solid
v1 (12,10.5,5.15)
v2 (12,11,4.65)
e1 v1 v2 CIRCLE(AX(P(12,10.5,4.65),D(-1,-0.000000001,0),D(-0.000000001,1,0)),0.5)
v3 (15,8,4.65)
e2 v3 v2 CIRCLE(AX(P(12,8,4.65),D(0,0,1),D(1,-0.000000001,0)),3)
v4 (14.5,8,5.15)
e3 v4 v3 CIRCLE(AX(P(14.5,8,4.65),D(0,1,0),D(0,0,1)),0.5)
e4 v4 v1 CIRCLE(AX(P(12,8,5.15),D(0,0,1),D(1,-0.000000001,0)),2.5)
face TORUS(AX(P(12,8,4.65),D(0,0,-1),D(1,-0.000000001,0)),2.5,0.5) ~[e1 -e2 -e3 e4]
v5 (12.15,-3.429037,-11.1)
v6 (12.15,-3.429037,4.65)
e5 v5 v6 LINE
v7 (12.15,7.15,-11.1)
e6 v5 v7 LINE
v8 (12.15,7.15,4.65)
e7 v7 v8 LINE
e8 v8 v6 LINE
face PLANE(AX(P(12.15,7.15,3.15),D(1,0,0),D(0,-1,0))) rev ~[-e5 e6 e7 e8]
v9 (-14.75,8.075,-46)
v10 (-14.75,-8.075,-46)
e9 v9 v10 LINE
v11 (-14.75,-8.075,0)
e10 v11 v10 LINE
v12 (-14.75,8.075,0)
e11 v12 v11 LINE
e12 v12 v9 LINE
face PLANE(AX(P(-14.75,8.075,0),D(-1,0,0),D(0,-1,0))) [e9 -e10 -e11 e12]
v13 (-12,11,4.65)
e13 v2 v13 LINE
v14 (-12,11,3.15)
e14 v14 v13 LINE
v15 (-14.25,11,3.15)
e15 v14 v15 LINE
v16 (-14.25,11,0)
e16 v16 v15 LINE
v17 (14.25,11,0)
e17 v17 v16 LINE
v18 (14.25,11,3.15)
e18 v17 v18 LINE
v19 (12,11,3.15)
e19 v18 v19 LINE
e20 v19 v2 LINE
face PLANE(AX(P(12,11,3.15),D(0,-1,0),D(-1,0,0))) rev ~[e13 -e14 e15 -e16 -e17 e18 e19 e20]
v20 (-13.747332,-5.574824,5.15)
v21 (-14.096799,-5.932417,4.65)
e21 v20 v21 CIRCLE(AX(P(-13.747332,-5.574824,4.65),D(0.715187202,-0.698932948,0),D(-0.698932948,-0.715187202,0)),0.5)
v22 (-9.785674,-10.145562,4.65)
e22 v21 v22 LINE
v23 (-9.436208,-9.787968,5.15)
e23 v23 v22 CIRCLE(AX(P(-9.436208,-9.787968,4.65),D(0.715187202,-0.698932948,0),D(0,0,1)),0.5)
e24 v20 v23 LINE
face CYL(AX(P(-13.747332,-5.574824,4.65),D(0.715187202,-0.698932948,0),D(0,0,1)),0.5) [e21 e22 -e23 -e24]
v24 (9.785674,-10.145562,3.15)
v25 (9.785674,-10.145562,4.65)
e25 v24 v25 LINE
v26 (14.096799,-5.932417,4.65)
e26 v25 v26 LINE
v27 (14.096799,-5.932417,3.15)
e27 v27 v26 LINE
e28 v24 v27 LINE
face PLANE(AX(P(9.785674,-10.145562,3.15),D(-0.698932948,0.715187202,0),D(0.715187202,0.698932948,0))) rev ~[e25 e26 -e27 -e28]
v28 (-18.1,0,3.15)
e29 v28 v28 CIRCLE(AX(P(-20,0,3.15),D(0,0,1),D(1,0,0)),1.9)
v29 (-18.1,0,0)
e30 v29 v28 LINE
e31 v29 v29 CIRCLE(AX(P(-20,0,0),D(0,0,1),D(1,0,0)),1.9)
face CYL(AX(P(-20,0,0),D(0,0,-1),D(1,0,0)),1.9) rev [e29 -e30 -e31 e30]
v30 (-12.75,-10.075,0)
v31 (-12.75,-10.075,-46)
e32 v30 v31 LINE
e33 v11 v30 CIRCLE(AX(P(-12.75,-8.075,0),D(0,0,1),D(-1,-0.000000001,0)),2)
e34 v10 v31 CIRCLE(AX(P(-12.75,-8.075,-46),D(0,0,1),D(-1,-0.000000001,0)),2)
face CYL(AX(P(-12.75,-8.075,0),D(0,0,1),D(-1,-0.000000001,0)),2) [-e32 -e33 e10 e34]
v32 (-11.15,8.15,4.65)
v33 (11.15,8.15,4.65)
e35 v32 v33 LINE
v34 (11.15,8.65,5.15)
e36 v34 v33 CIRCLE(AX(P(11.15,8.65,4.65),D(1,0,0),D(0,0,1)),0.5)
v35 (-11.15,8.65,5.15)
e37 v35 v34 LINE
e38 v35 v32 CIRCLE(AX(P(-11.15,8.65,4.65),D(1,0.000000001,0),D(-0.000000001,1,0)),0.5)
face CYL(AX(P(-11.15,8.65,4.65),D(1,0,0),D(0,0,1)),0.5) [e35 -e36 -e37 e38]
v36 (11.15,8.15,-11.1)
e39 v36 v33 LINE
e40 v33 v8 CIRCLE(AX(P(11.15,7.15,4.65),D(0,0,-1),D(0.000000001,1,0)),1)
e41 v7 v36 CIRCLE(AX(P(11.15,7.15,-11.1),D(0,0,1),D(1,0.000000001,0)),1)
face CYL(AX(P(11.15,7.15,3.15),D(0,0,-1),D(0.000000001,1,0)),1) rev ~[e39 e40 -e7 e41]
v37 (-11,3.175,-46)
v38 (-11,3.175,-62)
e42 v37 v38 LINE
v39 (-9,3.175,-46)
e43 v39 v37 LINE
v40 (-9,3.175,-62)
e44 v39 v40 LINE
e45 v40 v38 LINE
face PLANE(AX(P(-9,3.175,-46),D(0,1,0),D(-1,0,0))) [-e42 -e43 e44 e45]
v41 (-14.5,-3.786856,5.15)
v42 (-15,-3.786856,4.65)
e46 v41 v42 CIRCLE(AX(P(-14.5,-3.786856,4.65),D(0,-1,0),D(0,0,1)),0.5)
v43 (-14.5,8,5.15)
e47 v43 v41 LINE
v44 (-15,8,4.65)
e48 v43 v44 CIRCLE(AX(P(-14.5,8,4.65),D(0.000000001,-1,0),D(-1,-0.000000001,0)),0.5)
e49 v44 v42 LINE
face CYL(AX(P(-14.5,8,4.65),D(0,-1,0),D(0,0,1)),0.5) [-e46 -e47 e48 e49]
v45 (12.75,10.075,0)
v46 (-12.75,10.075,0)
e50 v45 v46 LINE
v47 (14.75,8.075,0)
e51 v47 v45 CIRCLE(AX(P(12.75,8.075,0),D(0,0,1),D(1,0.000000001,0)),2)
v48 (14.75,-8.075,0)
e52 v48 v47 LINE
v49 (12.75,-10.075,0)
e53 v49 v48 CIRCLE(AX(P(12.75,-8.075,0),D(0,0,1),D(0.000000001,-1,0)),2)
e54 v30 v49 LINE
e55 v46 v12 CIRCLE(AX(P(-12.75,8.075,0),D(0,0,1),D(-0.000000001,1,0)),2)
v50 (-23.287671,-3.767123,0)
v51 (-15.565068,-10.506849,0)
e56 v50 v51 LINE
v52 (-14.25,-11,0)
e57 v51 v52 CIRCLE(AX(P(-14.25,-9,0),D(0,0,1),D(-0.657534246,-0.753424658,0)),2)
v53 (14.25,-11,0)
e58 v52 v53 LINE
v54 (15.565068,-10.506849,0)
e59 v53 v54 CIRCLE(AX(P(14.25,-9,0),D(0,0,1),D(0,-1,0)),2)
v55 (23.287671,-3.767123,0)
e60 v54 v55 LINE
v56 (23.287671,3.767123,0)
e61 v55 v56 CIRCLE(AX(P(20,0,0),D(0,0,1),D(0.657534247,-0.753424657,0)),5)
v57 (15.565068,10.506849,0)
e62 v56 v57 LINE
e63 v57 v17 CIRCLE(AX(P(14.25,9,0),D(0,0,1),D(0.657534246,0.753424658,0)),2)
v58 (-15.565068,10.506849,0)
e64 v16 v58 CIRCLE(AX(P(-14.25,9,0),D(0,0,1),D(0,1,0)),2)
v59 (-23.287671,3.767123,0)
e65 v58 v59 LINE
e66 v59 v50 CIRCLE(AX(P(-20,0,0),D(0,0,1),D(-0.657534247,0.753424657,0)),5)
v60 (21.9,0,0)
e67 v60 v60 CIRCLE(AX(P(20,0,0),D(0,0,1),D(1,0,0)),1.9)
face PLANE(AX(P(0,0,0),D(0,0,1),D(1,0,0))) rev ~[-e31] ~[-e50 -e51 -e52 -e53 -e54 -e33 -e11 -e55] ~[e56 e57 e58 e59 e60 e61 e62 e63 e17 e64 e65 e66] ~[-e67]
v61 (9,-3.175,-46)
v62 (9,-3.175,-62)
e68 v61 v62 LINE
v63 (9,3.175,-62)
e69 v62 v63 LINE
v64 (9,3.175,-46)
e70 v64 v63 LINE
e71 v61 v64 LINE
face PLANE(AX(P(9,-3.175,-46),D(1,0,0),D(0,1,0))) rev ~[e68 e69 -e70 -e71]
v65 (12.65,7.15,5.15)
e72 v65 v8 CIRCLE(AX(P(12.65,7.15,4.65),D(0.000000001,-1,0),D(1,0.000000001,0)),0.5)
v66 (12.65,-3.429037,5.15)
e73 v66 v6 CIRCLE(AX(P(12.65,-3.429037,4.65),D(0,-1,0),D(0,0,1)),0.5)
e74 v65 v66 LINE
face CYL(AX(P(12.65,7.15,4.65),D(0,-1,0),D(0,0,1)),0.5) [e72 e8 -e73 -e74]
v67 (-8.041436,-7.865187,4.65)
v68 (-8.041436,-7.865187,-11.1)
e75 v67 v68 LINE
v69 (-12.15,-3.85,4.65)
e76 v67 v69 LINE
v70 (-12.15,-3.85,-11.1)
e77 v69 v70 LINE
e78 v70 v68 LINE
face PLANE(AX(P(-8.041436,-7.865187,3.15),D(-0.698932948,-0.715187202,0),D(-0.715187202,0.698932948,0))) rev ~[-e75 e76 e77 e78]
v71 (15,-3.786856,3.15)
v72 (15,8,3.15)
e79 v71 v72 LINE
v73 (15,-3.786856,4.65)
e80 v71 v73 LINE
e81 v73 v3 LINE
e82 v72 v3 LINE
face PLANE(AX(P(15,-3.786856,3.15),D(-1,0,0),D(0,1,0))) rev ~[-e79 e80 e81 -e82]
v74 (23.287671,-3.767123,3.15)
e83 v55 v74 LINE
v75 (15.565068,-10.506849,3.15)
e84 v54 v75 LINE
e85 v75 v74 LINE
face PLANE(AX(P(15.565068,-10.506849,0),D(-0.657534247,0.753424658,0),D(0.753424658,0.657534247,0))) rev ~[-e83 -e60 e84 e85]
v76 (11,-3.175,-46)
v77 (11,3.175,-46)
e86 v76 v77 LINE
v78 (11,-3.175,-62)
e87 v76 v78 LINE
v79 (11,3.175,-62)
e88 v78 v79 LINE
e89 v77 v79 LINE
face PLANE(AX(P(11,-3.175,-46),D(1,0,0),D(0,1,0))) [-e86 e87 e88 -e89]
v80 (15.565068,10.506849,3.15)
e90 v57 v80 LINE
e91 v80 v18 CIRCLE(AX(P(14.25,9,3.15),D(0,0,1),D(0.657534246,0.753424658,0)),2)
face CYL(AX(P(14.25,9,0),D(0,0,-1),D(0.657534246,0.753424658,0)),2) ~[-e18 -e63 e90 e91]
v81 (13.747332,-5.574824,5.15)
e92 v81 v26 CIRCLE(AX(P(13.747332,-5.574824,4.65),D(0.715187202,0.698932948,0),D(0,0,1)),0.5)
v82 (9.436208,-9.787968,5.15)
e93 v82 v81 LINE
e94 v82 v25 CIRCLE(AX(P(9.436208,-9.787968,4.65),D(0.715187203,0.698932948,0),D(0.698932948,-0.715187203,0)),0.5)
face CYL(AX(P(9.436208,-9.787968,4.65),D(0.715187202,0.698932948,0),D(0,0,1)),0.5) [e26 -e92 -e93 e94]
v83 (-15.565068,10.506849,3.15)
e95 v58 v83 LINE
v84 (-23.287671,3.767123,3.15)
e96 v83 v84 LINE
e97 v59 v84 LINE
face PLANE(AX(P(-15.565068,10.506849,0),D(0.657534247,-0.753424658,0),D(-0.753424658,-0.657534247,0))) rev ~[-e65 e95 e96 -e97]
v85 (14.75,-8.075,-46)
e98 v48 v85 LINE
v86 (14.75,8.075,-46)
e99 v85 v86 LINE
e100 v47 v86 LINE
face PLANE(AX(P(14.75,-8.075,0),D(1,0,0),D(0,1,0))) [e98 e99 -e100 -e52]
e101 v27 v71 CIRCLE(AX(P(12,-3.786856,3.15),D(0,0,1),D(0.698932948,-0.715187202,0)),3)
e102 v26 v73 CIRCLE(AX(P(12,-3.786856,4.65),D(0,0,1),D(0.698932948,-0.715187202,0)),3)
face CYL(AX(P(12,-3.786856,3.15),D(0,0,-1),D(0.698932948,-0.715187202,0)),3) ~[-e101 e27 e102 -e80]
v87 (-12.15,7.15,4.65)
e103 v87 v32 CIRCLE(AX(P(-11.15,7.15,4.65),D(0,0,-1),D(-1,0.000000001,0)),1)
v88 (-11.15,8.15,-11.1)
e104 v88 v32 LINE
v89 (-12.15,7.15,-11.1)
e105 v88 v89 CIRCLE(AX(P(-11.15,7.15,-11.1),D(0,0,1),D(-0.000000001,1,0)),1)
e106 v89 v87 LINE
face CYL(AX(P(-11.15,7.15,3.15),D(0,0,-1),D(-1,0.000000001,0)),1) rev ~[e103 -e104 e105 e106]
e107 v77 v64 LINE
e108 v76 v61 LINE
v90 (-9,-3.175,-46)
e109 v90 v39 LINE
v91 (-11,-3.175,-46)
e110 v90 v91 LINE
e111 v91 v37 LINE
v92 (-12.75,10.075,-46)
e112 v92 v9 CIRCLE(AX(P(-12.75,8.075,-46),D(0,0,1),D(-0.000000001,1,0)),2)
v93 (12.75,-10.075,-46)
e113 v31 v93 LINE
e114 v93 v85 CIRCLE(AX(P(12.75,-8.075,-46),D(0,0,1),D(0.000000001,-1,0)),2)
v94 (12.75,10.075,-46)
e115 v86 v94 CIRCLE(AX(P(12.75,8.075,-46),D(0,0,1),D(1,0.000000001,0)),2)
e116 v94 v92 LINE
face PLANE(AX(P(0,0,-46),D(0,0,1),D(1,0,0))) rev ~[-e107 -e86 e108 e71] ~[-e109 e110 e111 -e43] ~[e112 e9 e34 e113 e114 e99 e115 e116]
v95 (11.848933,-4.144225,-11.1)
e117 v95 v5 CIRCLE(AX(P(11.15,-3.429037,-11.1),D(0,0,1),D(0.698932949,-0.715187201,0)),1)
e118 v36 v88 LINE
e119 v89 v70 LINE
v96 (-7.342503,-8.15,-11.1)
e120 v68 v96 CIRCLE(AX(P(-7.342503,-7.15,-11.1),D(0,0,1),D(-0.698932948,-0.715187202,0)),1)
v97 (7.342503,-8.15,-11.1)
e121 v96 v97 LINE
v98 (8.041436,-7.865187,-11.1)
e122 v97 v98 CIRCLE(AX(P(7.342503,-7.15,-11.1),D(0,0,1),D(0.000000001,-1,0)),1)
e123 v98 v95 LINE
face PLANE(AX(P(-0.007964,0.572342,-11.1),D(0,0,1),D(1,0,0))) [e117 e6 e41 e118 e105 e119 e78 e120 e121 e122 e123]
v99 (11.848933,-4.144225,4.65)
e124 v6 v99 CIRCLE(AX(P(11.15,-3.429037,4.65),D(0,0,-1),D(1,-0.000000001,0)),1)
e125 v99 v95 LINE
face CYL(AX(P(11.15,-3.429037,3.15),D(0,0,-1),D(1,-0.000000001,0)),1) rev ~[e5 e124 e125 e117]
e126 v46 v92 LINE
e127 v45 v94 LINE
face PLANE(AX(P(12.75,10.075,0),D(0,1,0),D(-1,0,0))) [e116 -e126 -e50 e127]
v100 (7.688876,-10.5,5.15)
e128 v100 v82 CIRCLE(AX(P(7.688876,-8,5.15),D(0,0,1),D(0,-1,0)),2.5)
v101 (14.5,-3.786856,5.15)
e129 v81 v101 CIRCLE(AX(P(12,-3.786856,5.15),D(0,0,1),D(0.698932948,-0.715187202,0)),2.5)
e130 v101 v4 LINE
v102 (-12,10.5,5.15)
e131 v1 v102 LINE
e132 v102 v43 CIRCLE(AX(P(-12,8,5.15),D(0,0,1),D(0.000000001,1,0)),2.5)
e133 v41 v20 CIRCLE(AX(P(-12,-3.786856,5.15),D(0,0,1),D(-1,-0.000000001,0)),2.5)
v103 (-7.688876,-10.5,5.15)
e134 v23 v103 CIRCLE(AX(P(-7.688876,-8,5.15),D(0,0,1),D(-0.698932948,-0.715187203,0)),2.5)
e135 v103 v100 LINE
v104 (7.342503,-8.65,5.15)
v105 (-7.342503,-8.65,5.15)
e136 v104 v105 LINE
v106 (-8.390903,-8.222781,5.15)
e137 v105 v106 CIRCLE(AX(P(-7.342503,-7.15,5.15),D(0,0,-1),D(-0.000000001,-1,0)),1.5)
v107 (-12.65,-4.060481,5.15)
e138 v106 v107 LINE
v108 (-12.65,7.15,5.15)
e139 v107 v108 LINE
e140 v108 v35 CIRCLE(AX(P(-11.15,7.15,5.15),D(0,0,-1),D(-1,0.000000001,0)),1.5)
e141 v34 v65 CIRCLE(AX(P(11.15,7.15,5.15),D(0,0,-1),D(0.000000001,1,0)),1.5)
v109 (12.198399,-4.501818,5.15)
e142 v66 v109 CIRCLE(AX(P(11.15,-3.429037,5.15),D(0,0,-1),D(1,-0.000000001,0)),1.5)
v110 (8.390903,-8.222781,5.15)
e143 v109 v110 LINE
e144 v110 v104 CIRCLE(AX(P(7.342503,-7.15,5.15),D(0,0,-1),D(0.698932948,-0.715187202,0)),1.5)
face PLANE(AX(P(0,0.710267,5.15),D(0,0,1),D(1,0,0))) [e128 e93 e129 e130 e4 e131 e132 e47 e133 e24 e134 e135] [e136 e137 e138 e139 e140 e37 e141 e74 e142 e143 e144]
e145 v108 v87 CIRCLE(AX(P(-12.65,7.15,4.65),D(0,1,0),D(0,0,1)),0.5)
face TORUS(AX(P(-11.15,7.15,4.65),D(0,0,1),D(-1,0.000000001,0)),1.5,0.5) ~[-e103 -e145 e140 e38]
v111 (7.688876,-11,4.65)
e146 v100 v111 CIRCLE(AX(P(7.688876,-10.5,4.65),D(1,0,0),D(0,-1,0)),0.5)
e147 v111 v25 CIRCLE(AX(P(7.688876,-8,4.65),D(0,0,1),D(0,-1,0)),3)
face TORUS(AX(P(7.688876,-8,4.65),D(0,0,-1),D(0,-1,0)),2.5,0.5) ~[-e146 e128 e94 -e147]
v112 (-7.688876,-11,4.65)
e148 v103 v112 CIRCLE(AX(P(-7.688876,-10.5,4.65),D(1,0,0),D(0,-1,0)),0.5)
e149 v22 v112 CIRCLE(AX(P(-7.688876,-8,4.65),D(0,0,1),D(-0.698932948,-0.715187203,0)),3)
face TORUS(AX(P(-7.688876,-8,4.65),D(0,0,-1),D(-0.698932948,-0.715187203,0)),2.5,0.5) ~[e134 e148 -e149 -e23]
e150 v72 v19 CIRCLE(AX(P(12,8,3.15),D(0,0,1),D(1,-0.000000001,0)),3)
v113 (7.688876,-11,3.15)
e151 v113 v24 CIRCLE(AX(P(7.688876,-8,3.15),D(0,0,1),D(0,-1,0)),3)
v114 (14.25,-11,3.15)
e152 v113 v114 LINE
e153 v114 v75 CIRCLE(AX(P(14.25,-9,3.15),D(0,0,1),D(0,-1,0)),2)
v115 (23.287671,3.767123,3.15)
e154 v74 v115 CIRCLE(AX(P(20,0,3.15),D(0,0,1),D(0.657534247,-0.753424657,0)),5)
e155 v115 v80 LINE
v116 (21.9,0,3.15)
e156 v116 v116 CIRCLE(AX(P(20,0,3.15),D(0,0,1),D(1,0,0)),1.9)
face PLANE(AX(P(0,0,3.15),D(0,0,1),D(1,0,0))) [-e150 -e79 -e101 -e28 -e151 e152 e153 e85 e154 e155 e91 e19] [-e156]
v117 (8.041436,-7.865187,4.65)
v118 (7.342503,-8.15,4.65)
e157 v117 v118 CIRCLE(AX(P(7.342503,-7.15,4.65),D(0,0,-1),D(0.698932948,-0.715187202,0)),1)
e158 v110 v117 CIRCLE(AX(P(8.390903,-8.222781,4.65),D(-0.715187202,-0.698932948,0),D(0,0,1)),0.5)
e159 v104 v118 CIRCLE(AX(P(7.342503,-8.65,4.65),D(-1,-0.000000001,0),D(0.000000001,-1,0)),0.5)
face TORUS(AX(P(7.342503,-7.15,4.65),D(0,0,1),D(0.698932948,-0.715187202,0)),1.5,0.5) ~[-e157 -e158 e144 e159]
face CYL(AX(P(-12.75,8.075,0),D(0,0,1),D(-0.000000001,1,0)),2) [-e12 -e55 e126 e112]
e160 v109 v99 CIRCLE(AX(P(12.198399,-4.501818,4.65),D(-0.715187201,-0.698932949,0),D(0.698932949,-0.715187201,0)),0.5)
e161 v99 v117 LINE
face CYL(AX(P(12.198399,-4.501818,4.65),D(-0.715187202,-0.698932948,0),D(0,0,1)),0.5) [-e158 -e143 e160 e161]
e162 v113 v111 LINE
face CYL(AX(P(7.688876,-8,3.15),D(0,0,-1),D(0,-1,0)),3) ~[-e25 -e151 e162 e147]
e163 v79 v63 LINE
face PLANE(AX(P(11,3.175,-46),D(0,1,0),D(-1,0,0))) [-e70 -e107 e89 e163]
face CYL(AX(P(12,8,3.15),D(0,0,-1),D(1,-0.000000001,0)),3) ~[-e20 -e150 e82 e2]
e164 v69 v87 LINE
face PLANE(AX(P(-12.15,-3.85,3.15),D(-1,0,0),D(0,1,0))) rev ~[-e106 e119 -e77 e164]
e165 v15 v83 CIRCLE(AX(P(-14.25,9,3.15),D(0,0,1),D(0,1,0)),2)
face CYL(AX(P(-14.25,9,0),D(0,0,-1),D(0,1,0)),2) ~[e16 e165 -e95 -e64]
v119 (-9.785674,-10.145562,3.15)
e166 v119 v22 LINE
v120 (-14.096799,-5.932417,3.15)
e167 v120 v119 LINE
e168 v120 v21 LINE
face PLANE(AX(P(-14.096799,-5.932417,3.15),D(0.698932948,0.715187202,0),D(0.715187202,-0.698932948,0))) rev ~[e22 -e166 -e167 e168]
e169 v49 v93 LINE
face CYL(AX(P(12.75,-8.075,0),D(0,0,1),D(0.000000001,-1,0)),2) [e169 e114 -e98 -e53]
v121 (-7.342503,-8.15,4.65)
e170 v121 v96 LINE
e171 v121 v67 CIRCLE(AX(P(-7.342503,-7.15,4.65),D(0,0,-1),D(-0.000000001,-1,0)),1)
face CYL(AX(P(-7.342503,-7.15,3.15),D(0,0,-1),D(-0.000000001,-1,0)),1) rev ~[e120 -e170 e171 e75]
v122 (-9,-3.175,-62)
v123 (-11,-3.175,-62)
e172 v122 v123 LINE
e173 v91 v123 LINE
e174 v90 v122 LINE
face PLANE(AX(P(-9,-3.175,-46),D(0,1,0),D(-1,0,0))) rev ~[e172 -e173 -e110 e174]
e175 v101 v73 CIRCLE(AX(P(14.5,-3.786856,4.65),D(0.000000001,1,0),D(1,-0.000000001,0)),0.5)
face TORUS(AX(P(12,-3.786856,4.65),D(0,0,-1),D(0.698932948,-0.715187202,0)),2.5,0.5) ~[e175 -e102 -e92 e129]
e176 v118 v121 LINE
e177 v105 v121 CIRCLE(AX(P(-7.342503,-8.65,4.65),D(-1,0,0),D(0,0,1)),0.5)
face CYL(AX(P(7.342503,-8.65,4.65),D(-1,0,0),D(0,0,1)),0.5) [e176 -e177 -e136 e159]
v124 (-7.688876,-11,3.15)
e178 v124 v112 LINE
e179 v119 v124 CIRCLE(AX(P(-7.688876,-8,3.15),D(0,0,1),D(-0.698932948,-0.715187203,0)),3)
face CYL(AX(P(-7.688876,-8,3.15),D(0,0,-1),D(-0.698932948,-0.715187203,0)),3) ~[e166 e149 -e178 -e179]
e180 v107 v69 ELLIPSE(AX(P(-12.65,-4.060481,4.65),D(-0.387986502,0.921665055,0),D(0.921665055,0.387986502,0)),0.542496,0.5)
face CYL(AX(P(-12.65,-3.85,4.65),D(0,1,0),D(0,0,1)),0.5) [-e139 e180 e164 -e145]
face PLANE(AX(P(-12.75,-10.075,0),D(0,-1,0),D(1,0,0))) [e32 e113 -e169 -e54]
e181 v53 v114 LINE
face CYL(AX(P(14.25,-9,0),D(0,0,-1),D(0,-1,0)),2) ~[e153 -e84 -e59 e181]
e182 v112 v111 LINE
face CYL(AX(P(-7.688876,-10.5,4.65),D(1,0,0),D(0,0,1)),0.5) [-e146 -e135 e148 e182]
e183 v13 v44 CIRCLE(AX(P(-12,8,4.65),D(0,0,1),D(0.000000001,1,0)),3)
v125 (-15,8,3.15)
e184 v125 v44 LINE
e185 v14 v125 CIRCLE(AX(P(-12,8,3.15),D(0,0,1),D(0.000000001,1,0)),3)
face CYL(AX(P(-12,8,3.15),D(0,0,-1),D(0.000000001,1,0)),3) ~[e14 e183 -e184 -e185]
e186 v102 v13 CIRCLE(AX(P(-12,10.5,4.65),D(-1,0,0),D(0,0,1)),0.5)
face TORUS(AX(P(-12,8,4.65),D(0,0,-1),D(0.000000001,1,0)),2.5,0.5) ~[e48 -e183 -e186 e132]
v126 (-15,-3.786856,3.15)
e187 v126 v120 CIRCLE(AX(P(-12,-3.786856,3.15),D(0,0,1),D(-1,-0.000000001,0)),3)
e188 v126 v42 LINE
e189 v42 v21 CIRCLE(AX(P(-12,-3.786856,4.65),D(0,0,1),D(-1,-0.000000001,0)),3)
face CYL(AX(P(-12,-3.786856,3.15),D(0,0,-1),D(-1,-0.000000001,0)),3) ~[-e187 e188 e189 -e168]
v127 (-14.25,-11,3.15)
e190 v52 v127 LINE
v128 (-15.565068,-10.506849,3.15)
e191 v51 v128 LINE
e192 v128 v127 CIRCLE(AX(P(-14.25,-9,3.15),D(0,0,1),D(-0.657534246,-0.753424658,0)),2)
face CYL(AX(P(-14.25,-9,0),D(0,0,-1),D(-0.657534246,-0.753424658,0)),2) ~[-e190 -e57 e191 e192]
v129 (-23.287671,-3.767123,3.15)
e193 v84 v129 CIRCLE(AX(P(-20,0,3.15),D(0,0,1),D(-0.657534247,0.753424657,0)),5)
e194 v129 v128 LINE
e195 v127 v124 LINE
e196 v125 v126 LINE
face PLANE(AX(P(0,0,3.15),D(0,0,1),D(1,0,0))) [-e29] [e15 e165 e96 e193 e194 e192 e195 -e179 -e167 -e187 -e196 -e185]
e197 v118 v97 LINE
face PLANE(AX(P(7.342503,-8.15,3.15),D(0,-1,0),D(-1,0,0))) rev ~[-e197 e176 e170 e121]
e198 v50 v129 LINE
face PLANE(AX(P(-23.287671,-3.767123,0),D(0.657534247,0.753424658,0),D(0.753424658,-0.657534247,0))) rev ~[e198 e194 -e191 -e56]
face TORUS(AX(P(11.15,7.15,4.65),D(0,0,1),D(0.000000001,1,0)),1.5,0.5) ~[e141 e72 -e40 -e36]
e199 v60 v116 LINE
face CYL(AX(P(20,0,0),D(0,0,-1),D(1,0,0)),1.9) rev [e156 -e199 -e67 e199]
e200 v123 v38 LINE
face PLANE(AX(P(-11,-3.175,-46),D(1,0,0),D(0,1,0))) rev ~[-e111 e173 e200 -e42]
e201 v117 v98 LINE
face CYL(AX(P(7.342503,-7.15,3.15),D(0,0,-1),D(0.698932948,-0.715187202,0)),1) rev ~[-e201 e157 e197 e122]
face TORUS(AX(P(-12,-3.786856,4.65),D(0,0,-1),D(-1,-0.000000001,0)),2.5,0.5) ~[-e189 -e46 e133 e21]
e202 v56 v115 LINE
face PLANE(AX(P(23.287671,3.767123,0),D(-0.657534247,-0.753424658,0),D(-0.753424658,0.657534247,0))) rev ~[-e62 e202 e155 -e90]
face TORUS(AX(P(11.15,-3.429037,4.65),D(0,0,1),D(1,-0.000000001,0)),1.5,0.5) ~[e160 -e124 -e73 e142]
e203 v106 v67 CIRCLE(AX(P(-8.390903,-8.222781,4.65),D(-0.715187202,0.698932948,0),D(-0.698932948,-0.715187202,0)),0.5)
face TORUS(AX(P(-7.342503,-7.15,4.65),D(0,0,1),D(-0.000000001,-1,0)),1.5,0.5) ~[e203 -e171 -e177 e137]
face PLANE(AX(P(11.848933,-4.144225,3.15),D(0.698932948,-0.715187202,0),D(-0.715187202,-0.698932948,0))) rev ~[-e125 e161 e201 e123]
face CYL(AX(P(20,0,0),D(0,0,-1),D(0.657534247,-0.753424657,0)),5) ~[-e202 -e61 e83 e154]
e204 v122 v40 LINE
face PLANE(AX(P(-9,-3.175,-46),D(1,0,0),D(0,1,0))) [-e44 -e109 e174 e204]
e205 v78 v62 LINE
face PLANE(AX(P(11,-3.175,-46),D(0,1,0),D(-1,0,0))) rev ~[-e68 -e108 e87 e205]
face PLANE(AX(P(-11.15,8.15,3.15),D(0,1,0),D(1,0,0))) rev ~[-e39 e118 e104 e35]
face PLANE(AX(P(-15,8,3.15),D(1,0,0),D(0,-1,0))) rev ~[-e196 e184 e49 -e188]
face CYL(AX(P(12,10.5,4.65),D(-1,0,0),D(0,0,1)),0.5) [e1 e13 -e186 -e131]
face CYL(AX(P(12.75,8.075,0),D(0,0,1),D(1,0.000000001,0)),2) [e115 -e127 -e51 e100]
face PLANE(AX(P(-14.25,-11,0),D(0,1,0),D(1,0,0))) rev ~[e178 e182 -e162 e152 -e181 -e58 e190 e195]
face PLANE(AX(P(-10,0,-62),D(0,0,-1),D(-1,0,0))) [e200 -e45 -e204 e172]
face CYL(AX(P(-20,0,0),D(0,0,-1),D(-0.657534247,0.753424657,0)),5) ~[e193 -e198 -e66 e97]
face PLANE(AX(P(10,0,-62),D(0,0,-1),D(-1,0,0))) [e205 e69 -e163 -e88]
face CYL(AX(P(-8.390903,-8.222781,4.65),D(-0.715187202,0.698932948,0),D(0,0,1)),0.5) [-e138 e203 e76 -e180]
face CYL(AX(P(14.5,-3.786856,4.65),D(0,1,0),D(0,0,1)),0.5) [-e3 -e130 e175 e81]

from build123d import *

# Parameters (mm, degrees)
SKETCH1_R           = 1.9
BOSS_EXTRUDE1_DEPTH = 3.15
BOSS_EXTRUDE2_DEPTH = 2
FILLET1_R           = 0.5
BOSS_EXTRUDE3_DEPTH = 46
SKETCH4_W           = 2
SKETCH4_H           = 6.35
BOSS_EXTRUDE4_DEPTH = 16
CUT_EXTRUDE1_START  = -11.1
CUT_EXTRUDE1_DEPTH  = 11.1


with BuildPart() as part:
    # Sketch1 → Boss-Extrude1 (new body)
    with BuildSketch(Plane.XY):
        with BuildLine():
            Line((-15.565068493, 10.506849315), (-23.287671233, 3.767123288))
            ThreePointArc((-23.287671233, 3.767123288), (-25, 0), (-23.287671233, -3.767123288))
            Line((-23.287671233, -3.767123288), (-15.565068493, -10.506849315))
            ThreePointArc((-15.565068493, -10.506849315), (-14.952246883, -10.872658355), (-14.25, -11))
            Line((-14.25, -11), (14.25, -11))
            ThreePointArc((14.25, -11), (14.952246883, -10.872658355), (15.565068493, -10.506849315))
            Line((15.565068493, -10.506849315), (23.287671233, -3.767123288))
            ThreePointArc((23.287671233, -3.767123288), (25, 0), (23.287671233, 3.767123288))
            Line((23.287671233, 3.767123288), (15.565068493, 10.506849315))
            ThreePointArc((15.565068493, 10.506849315), (14.952246883, 10.872658355), (14.25, 11))
            Line((14.25, 11), (-14.25, 11))
            ThreePointArc((-14.25, 11), (-14.952246883, 10.872658355), (-15.565068493, 10.506849315))
        make_face()
        with Locations((-20, 0)):
            Circle(SKETCH1_R, mode=Mode.SUBTRACT)
        with Locations((20, 0)):
            Circle(SKETCH1_R, mode=Mode.SUBTRACT)
        with BuildLine():
            Line((7.342503403, -8.15), (-7.342503403, -8.15))
            ThreePointArc((-7.342503403, -8.15), (-7.719871127, -8.076063497), (-8.041436351, -7.865187202))
            Line((-8.041436351, -7.865187202), (-12.15, -3.85))
            Line((-12.15, -3.85), (-12.15, 7.15))
            ThreePointArc((-12.15, 7.15), (-11.857106781, 7.857106781), (-11.15, 8.15))
            Line((-11.15, 8.15), (11.15, 8.15))
            ThreePointArc((11.15, 8.15), (11.857106781, 7.857106781), (12.15, 7.15))
            Line((12.15, 7.15), (12.15, -3.429037417))
            ThreePointArc((12.15, -3.429037417), (12.071665055, -3.817023919), (11.848932948, -4.144224619))
            Line((11.848932948, -4.144224619), (8.041436351, -7.865187202))
            ThreePointArc((8.041436351, -7.865187202), (7.719871127, -8.076063497), (7.342503403, -8.15))
        make_face(mode=Mode.SUBTRACT)
    extrude(amount=BOSS_EXTRUDE1_DEPTH)

    # Sketch2 → Boss-Extrude2 (add)
    with BuildSketch(Plane.XY.offset(3.15)):
        with BuildLine():
            Line((15, -3.786855613), (15, 8))
            ThreePointArc((15, 8), (14.121320344, 10.121320344), (12, 11))
            Line((12, 11), (-12, 11))
            ThreePointArc((-12, 11), (-14.121320344, 10.121320344), (-15, 8))
            Line((-15, 8), (-15, -3.786855613))
            ThreePointArc((-15, -3.786855613), (-14.764995165, -4.95081512), (-14.096798843, -5.93241722))
            Line((-14.096798843, -5.93241722), (-9.785674354, -10.145561607))
            ThreePointArc((-9.785674354, -10.145561607), (-8.820978681, -10.778190492), (-7.68887551, -11))
            Line((-7.68887551, -11), (7.68887551, -11))
            ThreePointArc((7.68887551, -11), (8.820978681, -10.778190492), (9.785674354, -10.145561607))
            Line((9.785674354, -10.145561607), (14.096798843, -5.93241722))
            ThreePointArc((14.096798843, -5.93241722), (14.764995165, -4.95081512), (15, -3.786855613))
        make_face()
        with BuildLine():
            Line((-8.041436351, -7.865187202), (-12.15, -3.85))
            Line((-12.15, -3.85), (-12.15, 7.15))
            ThreePointArc((-12.15, 7.15), (-11.857106781, 7.857106781), (-11.15, 8.15))
            Line((-11.15, 8.15), (11.15, 8.15))
            ThreePointArc((11.15, 8.15), (11.857106781, 7.857106781), (12.15, 7.15))
            Line((12.15, 7.15), (12.15, -3.429037417))
            ThreePointArc((12.15, -3.429037417), (12.071665055, -3.817023919), (11.848932948, -4.144224619))
            Line((11.848932948, -4.144224619), (8.041436351, -7.865187202))
            ThreePointArc((8.041436351, -7.865187202), (7.719871127, -8.076063497), (7.342503403, -8.15))
            Line((7.342503403, -8.15), (-7.342503403, -8.15))
            ThreePointArc((-7.342503403, -8.15), (-7.719871127, -8.076063497), (-8.041436351, -7.865187202))
        make_face(mode=Mode.SUBTRACT)
    extrude(amount=BOSS_EXTRUDE2_DEPTH)

    # Fillet1
    fillet1_edges = [part.edges().sort_by_distance(p)[0] for p in [
        (-12.15, 1.65, 5.15),
        (-10.095718176, -5.857593601, 5.15),
        (8.820978681, -10.778190492, 5.15),
        (11.941236599, -8.038989413, 5.15),
        (14.764995165, -4.95081512, 5.15),
        (15, 2.106572194, 5.15),
        (14.121320344, 10.121320344, 5.15),
        (0, 11, 5.15),
        (-14.121320344, 10.121320344, 5.15),
        (-15, 2.106572194, 5.15),
        (-14.764995165, -4.95081512, 5.15),
        (-11.941236599, -8.038989413, 5.15),
        (-8.820978681, -10.778190492, 5.15),
        (0, -11, 5.15),
        (-7.719871127, -8.076063497, 5.15),
        (0, -8.15, 5.15),
        (7.719871127, -8.076063497, 5.15),
        (9.945184649, -6.004705911, 5.15),
        (12.071665055, -3.817023919, 5.15),
        (12.15, 1.860481292, 5.15),
        (11.857106781, 7.857106781, 5.15),
        (0, 8.15, 5.15),
        (-11.857106781, 7.857106781, 5.15),
    ]]
    fillet(fillet1_edges, radius=FILLET1_R)

    # Sketch3 → Boss-Extrude3 (add)
    with BuildSketch(Plane(origin=(0, 0, 0), x_dir=(-1, 0, 0), z_dir=(0, 0, -1))):
        with BuildLine():
            Line((12.75, -10.075), (-12.75, -10.075))
            ThreePointArc((-12.75, -10.075), (-14.164213562, -9.489213562), (-14.75, -8.075))
            Line((-14.75, -8.075), (-14.75, 8.075))
            ThreePointArc((-14.75, 8.075), (-14.164213562, 9.489213562), (-12.75, 10.075))
            Line((-12.75, 10.075), (12.75, 10.075))
            ThreePointArc((12.75, 10.075), (14.164213562, 9.489213562), (14.75, 8.075))
            Line((14.75, 8.075), (14.75, -8.075))
            ThreePointArc((14.75, -8.075), (14.164213562, -9.489213562), (12.75, -10.075))
        make_face()
    extrude(amount=BOSS_EXTRUDE3_DEPTH)

    # Sketch4 → Boss-Extrude4 (add)
    with BuildSketch(Plane(origin=(0, 0, -46), x_dir=(-1, 0, 0), z_dir=(0, 0, -1))):
        with Locations((-10, 0)):
            Rectangle(SKETCH4_W, SKETCH4_H)
        with Locations((10, 0)):
            Rectangle(SKETCH4_W, SKETCH4_H)
    extrude(amount=BOSS_EXTRUDE4_DEPTH)

    # Sketch5 → Cut-Extrude1 (cut)
    with BuildSketch(Plane.XY.offset(CUT_EXTRUDE1_START)):
        with BuildLine():
            Line((-12.15, 7.15), (-12.15, -3.85))
            Line((-12.15, -3.85), (-8.041436351, -7.865187202))
            ThreePointArc((-8.041436351, -7.865187202), (-7.719871127, -8.076063497), (-7.342503403, -8.15))
            Line((-7.342503403, -8.15), (7.342503403, -8.15))
            ThreePointArc((7.342503403, -8.15), (7.719871127, -8.076063497), (8.041436351, -7.865187202))
            Line((8.041436351, -7.865187202), (11.848932948, -4.144224619))
            ThreePointArc((11.848932948, -4.144224619), (12.071665055, -3.817023919), (12.15, -3.429037417))
            Line((12.15, -3.429037417), (12.15, 7.15))
            ThreePointArc((12.15, 7.15), (11.857106781, 7.857106781), (11.15, 8.15))
            Line((11.15, 8.15), (-11.15, 8.15))
            ThreePointArc((-11.15, 8.15), (-11.857106781, 7.857106781), (-12.15, 7.15))
        make_face()
    extrude(amount=CUT_EXTRUDE1_DEPTH, mode=Mode.SUBTRACT)


solid = part.part
